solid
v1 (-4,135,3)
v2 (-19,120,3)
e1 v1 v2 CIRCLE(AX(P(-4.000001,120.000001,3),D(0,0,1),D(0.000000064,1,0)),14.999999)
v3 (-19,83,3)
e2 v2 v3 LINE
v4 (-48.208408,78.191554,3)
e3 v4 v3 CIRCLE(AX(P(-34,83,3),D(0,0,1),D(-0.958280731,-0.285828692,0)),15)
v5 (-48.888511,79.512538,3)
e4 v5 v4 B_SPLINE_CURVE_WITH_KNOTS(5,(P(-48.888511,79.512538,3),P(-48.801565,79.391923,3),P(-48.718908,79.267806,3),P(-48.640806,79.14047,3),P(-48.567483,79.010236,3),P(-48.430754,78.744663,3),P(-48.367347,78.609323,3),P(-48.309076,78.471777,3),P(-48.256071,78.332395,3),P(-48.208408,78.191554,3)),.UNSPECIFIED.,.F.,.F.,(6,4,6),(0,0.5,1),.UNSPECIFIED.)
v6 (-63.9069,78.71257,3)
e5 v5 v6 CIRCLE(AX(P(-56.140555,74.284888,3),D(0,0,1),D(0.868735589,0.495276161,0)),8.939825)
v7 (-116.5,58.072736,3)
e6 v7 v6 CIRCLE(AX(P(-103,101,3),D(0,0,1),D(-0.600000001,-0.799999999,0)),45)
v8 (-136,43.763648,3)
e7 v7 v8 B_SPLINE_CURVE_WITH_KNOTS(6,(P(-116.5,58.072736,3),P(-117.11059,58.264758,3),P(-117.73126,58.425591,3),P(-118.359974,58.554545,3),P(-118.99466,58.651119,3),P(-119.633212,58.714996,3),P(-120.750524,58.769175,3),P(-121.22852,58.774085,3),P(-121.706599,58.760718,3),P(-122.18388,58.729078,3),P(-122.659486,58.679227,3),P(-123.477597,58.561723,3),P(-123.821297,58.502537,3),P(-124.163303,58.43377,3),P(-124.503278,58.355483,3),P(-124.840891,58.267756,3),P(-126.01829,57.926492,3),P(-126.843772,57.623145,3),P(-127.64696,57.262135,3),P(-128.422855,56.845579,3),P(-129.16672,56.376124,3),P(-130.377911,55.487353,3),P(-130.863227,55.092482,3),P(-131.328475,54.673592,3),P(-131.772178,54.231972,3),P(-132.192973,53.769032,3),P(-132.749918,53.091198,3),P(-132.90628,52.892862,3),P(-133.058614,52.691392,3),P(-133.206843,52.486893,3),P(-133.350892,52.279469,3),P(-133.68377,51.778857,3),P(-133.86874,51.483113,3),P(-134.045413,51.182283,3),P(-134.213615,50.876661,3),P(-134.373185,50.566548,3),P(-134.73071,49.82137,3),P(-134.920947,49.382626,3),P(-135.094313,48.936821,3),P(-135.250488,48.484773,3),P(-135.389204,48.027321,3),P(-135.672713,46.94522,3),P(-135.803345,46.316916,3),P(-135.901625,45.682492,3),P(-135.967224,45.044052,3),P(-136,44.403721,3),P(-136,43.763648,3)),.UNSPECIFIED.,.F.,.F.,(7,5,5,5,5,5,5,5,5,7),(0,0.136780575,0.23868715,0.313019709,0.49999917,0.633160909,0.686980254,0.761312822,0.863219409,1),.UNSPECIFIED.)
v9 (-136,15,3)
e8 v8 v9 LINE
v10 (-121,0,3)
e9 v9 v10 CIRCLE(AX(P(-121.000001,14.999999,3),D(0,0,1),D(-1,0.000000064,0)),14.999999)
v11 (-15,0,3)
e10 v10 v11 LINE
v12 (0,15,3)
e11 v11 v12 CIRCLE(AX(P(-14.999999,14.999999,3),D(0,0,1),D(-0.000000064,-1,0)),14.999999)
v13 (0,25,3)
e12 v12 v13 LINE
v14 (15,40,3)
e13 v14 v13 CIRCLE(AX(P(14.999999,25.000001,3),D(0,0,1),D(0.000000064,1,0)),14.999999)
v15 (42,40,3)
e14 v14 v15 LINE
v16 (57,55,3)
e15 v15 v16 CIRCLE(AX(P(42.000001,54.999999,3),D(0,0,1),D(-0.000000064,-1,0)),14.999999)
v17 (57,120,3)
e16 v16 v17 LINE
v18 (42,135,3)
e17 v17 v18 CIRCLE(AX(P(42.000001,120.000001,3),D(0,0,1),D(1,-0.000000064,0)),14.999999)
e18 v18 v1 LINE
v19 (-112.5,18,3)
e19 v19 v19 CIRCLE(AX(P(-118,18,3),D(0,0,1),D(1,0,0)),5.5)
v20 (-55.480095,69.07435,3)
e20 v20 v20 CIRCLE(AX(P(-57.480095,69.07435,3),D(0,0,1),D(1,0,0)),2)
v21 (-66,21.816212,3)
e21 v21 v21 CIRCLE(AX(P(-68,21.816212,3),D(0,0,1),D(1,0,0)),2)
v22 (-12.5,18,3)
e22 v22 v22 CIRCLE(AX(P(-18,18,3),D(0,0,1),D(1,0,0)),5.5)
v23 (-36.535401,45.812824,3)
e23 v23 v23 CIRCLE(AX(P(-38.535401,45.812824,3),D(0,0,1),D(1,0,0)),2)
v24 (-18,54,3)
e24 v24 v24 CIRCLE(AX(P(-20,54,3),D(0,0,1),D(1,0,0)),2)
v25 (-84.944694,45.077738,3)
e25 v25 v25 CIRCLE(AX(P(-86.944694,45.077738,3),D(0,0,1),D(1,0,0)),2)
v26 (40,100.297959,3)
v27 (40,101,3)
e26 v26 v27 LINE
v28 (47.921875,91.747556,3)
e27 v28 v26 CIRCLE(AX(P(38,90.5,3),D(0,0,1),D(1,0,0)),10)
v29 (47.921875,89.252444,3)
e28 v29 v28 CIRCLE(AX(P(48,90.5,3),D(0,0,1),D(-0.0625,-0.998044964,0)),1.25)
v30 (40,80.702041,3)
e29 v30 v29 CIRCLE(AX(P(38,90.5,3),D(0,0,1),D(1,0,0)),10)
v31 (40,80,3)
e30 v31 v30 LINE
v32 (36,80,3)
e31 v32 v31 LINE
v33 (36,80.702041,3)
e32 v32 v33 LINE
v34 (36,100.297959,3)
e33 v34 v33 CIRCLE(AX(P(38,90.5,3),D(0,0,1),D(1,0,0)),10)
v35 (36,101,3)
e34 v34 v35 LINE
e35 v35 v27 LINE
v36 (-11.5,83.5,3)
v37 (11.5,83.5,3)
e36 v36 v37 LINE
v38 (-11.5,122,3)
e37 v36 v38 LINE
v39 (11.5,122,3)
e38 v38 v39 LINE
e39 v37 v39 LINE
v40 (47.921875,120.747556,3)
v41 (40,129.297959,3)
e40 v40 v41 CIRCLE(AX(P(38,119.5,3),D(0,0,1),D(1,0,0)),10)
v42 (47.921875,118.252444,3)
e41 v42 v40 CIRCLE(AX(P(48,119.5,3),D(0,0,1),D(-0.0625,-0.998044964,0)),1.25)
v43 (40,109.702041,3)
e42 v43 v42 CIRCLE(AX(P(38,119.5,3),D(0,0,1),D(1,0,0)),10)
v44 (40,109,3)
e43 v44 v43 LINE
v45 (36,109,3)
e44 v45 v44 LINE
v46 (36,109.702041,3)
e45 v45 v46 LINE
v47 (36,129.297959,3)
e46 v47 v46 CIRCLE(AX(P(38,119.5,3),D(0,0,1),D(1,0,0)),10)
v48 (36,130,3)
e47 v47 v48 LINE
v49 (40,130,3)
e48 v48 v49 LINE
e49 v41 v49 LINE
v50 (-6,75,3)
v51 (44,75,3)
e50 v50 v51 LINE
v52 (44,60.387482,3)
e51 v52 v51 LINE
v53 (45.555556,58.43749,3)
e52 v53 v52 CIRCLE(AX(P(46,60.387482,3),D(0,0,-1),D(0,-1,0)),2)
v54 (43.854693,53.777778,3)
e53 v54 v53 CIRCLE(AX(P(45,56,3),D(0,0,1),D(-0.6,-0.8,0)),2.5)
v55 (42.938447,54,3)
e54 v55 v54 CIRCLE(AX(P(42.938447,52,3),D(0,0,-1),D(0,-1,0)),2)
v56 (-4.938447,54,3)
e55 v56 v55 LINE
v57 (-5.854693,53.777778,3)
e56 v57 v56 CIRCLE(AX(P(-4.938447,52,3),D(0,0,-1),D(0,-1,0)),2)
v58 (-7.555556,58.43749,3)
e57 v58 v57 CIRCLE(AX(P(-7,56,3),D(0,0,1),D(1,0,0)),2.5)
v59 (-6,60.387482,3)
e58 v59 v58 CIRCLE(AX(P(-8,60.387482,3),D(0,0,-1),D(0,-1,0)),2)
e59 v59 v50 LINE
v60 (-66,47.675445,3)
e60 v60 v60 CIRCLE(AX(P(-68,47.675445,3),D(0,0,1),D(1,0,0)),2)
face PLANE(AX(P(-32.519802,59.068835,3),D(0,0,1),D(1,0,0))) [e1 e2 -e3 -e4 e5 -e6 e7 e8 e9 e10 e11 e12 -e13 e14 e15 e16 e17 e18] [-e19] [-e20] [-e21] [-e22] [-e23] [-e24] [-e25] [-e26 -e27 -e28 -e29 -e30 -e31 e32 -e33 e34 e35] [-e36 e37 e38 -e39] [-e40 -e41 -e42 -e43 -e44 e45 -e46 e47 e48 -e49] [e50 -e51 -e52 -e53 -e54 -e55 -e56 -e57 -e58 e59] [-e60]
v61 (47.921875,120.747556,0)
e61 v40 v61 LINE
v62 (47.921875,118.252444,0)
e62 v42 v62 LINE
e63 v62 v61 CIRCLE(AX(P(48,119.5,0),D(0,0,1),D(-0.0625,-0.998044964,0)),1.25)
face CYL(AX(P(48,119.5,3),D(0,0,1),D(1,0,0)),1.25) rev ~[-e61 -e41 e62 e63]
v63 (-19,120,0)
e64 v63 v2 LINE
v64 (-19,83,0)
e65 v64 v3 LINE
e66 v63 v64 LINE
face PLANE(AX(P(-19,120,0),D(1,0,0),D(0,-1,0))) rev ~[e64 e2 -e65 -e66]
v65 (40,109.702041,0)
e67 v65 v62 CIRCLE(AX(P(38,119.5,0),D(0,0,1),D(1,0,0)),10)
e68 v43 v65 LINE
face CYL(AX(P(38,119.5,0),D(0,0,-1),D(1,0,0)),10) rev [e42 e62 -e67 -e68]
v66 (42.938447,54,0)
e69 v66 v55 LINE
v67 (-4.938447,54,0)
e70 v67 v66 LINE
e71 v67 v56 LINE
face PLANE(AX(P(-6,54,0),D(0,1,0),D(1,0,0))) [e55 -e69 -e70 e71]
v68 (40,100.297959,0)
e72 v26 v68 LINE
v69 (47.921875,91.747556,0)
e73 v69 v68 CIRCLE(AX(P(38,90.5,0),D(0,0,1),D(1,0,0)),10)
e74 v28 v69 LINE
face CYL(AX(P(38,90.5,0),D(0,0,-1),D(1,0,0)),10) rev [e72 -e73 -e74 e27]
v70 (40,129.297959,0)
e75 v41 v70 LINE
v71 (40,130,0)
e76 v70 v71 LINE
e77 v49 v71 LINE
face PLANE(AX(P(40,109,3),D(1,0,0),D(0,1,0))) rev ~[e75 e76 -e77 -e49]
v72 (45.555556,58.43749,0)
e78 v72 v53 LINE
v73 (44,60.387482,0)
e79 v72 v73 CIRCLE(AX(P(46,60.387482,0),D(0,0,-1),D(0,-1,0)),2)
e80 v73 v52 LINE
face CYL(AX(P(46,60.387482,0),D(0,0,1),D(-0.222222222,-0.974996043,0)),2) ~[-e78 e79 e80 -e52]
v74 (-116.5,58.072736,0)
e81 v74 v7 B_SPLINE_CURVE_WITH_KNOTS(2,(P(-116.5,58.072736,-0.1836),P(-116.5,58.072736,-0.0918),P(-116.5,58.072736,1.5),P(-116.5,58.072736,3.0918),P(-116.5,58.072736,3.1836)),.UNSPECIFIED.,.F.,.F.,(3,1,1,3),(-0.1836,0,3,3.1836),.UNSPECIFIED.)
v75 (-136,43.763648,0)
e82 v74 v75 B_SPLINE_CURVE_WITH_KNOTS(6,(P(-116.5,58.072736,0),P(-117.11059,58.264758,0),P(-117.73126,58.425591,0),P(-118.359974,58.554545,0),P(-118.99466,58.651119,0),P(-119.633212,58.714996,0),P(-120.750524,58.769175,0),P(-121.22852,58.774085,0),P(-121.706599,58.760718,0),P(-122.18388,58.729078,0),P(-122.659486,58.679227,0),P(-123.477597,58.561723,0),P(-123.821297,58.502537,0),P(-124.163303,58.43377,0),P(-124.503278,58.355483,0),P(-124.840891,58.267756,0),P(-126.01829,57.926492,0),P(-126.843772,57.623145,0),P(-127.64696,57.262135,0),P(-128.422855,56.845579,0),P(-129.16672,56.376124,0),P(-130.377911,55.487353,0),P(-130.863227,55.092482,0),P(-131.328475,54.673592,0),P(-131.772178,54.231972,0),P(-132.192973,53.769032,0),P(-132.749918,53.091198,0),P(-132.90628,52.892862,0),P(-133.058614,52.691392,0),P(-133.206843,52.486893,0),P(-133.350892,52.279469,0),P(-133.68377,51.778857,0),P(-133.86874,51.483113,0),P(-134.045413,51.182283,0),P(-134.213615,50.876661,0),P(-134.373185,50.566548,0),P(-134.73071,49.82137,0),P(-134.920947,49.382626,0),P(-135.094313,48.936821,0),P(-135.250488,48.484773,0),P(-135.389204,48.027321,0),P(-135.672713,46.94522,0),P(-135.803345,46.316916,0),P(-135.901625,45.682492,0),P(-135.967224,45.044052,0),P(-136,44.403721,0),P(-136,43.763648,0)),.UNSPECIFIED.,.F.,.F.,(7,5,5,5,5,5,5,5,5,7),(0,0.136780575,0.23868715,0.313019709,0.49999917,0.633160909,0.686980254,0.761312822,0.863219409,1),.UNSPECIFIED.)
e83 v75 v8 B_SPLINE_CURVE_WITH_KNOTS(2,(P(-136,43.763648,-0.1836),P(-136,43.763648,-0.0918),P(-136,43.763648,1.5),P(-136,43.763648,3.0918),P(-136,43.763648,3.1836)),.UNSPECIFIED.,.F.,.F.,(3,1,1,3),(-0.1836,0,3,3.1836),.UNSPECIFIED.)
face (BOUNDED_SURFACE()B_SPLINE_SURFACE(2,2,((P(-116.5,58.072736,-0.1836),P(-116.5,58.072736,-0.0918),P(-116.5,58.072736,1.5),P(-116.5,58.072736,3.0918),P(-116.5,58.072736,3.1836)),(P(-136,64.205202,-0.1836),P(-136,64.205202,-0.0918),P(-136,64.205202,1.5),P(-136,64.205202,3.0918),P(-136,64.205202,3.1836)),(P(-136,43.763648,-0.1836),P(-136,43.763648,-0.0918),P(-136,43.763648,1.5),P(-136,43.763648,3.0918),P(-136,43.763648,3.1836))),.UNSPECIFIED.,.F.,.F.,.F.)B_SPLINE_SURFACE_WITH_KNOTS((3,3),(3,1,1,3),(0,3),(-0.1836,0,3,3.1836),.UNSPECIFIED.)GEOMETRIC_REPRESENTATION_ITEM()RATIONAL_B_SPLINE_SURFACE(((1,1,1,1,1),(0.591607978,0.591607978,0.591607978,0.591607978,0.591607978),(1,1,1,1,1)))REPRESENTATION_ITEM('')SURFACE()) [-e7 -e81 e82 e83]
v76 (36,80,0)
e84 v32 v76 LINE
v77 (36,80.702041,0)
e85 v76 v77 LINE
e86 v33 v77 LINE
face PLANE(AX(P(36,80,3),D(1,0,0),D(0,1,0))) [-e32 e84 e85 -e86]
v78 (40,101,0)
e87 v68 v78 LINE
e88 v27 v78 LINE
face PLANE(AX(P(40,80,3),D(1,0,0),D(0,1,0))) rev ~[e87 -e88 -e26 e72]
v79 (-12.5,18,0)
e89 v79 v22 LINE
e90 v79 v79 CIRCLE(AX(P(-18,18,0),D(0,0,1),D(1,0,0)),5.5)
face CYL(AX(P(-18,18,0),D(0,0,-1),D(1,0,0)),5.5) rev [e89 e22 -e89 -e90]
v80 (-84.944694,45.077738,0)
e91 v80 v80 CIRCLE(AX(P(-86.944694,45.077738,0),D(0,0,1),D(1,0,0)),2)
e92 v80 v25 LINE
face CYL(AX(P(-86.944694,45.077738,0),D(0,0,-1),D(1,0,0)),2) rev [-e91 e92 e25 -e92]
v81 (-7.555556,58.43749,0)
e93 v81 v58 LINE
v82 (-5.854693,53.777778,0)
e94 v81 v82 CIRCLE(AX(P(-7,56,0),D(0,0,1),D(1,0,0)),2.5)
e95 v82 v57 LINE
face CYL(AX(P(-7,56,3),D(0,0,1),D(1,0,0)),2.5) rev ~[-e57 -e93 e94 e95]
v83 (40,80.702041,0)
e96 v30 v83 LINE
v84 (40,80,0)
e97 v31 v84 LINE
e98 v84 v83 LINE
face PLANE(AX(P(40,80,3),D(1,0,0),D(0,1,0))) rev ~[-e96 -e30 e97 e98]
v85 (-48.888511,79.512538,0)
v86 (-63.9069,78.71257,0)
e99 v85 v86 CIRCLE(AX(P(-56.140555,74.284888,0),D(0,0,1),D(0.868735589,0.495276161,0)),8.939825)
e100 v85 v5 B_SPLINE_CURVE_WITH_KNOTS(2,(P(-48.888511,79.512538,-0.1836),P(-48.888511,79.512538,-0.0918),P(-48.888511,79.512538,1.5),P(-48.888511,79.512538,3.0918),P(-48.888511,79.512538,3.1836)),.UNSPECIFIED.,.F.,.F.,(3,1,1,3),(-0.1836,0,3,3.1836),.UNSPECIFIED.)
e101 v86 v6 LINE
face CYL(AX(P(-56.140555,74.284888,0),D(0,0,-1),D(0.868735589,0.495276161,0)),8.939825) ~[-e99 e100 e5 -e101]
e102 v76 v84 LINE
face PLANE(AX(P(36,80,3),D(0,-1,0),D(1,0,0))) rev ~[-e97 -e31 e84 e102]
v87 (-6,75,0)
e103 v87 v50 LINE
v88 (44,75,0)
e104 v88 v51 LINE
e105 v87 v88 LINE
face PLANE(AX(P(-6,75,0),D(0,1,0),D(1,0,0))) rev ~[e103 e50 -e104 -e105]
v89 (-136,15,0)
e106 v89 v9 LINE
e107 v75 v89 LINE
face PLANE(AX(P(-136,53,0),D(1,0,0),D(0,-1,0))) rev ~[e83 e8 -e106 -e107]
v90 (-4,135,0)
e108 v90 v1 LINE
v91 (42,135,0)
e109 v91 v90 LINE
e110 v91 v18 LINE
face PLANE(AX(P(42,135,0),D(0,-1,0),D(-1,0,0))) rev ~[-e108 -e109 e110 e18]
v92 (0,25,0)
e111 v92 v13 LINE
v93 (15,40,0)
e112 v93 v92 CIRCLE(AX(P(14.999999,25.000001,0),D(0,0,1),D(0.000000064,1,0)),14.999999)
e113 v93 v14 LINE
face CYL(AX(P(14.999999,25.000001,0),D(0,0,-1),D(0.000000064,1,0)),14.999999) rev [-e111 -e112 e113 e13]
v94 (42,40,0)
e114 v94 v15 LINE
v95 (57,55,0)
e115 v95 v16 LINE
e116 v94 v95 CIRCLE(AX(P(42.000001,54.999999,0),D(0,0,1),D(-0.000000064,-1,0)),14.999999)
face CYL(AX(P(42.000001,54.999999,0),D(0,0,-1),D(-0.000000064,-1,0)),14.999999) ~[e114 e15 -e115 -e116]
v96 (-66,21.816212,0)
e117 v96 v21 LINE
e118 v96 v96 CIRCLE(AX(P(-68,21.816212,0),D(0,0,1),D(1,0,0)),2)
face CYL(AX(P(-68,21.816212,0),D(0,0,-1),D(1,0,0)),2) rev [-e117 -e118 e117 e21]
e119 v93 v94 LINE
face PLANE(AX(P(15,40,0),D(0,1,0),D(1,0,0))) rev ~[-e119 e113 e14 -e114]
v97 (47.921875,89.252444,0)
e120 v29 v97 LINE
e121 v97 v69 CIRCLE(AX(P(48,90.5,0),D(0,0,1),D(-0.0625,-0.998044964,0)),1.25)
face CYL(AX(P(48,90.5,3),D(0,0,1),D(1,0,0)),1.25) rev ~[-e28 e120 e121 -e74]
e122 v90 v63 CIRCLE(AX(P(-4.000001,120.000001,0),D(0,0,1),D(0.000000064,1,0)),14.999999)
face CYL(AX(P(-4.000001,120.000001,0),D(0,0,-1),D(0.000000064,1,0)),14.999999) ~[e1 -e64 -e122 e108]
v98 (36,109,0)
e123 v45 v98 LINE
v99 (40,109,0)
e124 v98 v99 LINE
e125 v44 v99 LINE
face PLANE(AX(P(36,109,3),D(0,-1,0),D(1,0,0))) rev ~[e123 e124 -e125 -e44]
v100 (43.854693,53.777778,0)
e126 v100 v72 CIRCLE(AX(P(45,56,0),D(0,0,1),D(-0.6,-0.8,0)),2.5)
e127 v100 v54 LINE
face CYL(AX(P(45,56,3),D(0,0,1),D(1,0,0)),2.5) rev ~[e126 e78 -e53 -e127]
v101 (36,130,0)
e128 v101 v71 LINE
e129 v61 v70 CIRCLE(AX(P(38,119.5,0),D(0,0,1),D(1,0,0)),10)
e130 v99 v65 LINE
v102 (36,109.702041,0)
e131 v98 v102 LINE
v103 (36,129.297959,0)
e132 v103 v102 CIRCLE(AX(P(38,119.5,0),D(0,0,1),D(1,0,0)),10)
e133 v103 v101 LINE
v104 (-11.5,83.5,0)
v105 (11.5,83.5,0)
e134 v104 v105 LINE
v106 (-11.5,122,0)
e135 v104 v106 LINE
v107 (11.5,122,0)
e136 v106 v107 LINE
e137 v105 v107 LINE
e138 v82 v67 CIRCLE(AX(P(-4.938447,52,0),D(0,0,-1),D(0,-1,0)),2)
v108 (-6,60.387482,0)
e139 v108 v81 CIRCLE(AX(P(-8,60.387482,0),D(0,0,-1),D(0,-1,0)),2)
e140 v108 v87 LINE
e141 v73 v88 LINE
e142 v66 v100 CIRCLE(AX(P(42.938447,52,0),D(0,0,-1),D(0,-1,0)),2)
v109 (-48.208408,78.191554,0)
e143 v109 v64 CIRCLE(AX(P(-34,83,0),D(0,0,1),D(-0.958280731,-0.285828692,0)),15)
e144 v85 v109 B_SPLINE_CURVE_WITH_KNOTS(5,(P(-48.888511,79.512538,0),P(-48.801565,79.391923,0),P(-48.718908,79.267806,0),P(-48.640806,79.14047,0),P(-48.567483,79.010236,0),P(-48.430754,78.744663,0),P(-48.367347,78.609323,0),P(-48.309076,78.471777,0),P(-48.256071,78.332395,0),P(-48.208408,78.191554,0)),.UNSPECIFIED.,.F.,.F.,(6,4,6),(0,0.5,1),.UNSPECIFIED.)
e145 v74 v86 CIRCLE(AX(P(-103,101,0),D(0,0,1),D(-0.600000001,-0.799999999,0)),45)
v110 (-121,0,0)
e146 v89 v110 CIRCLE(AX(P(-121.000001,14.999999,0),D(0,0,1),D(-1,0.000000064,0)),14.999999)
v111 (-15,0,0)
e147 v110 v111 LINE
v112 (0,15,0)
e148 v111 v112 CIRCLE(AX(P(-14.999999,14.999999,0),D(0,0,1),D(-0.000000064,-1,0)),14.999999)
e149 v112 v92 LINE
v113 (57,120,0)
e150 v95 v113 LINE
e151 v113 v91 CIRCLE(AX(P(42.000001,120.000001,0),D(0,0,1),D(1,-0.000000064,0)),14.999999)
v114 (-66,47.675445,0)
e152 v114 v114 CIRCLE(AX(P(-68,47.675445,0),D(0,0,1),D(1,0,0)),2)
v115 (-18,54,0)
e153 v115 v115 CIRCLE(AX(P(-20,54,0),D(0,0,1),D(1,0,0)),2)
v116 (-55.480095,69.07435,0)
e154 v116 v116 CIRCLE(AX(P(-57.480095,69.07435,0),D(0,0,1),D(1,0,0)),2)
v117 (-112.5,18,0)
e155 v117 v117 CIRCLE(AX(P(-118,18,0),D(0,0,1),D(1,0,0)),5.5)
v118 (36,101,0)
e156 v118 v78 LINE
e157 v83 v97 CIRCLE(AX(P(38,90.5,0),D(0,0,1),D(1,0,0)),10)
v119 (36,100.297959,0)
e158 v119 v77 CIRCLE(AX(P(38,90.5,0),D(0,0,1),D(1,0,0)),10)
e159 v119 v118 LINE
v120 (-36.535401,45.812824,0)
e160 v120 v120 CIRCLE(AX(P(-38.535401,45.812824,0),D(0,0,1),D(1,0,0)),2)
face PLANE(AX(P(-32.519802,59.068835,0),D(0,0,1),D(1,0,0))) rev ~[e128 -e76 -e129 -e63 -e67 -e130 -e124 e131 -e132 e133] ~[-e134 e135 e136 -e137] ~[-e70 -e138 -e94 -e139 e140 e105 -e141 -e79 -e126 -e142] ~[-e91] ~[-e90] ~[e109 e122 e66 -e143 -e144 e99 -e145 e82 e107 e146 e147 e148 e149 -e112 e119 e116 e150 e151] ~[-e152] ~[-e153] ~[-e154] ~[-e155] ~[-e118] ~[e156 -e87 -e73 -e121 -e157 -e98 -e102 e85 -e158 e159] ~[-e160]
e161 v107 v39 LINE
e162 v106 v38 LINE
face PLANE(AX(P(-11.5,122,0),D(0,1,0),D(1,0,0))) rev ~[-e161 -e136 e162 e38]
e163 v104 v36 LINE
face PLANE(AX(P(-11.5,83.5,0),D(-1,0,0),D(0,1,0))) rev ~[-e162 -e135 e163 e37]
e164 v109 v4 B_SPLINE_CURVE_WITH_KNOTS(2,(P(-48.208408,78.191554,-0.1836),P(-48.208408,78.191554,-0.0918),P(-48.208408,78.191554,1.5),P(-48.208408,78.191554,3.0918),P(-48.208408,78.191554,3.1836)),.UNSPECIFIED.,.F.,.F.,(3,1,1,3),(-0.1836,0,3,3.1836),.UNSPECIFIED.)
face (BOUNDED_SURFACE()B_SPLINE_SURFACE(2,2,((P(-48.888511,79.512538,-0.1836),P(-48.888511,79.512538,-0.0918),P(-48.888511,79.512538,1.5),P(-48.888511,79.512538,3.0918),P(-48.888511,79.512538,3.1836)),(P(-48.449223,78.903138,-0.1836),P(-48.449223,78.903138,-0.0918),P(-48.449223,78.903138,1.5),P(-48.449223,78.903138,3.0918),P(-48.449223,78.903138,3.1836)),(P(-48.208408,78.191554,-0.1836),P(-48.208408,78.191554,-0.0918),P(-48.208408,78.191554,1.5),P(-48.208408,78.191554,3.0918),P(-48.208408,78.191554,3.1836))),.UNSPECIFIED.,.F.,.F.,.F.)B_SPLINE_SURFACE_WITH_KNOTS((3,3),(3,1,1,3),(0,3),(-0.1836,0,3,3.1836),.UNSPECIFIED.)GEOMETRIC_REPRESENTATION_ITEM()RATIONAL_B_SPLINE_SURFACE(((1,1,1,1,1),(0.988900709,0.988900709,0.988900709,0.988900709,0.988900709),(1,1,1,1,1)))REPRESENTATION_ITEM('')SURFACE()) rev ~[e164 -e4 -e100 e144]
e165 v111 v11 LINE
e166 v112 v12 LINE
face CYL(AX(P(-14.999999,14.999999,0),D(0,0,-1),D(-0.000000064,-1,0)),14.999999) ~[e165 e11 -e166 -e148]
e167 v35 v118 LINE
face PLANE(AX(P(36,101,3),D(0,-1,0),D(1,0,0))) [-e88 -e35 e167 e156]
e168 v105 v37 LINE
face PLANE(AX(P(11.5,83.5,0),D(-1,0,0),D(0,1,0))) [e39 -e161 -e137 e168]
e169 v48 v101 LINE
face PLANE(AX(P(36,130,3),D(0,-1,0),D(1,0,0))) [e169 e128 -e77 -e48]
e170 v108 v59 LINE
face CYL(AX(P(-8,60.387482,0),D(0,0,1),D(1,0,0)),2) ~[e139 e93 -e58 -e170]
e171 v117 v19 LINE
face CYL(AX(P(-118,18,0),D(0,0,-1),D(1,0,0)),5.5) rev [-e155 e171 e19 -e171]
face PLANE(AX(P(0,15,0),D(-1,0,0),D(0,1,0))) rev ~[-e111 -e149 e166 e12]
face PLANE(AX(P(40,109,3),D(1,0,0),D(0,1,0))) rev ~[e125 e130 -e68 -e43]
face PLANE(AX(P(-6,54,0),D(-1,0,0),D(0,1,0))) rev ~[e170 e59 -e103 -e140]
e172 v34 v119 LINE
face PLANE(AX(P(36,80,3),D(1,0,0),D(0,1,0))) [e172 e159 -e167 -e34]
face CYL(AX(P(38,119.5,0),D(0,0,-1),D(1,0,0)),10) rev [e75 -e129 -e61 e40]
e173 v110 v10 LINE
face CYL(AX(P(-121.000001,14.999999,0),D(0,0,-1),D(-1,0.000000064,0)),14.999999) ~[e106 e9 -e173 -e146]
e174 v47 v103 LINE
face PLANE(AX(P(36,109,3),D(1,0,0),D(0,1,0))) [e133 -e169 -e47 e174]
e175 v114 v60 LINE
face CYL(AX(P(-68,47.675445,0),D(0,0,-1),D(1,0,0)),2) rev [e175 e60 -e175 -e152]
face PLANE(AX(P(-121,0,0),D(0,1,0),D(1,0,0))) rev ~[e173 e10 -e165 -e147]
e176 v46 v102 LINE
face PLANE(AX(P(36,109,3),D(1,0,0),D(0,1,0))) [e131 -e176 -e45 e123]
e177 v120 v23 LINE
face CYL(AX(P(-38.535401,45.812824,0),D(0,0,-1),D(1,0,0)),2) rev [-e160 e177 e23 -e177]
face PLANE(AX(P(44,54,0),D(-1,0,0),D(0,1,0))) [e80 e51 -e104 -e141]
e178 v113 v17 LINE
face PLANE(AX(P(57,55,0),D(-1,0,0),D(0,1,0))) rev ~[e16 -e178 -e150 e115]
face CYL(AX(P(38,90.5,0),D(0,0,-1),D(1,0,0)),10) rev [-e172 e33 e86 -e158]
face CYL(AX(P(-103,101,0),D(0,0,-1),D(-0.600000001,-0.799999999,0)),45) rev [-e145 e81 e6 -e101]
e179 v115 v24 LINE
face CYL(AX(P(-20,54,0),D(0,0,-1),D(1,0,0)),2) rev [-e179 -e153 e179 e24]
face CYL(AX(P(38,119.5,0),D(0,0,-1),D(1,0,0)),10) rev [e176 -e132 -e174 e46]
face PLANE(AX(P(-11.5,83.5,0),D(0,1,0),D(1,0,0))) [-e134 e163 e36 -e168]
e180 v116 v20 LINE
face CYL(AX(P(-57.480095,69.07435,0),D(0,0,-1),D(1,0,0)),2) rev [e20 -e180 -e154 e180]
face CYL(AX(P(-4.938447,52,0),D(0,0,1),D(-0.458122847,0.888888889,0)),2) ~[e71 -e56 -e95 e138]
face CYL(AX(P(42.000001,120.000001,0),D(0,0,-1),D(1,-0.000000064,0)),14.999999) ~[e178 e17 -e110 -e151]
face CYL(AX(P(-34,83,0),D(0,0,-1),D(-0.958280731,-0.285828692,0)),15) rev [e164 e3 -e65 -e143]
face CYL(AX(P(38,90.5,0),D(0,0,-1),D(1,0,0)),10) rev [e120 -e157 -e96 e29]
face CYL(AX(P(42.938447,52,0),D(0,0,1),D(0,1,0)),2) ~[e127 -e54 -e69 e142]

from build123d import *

# Parameters (mm, degrees)
SKETCH_R        = 5.5
SKETCH_R_2      = 10
SKETCH_R_3      = 2
SKETCH_W        = 50
SKETCH_H        = 21
SKETCH_W_2      = 23
SKETCH_H_2      = 38.5
PAD_DEPTH       = 3
FILLET_R        = 5
FILLET001_R     = 15
SKETCH001_R     = 1.25
SKETCH001_R_2   = 2.5
POCKET_DEPTH    = 3.001
FILLET002_R     = 2
FILLET003_R     = 2
SKETCH002_W     = 4
SKETCH002_H     = 21
POCKET001_DEPTH = 3.001


with BuildPart() as part:
    # Sketch → Pad (new body)
    with BuildSketch(Plane.XY):
        with BuildLine():
            Line((0, 15), (0, 25))
            ThreePointArc((15, 40), (4.393398, 35.606602), (0, 25))
            Line((15, 40), (42, 40))
            ThreePointArc((42, 40), (52.606602, 44.393398), (57, 55))
            Line((57, 55), (57, 120))
            ThreePointArc((57, 120), (52.606602, 130.606602), (42, 135))
            Line((42, 135), (-4, 135))
            ThreePointArc((-4, 135), (-14.606602, 130.606602), (-19, 120))
            Line((-19, 120), (-19, 83))
            ThreePointArc((-48.374211, 78.71257), (-31.833571, 68.157272), (-19, 83))
            ThreePointArc((-48.374211, 78.71257), (-56.140556, 83.224713), (-63.9069, 78.71257))
            ThreePointArc((-130, 65), (-93.858369, 56.938332), (-63.9069, 78.71257))
            ThreePointArc((-130, 65), (-134.416408, 59.708204), (-136, 53))
            Line((-136, 53), (-136, 15))
            ThreePointArc((-136, 15), (-131.606602, 4.393398), (-121, 0))
            Line((-121, 0), (-15, 0))
            ThreePointArc((-15, 0), (-4.393398, 4.393398), (0, 15))
        make_face()
        with Locations((-118, 18)):
            Circle(SKETCH_R, mode=Mode.SUBTRACT)
        with Locations((-18, 18)):
            Circle(SKETCH_R, mode=Mode.SUBTRACT)
        with Locations((38, 119.5)):
            Circle(SKETCH_R_2, mode=Mode.SUBTRACT)
        with Locations((38, 90.5)):
            Circle(SKETCH_R_2, mode=Mode.SUBTRACT)
        with Locations((-86.944694, 45.077738)):
            Circle(SKETCH_R_3, mode=Mode.SUBTRACT)
        with Locations((-57.480095, 69.07435)):
            Circle(SKETCH_R_3, mode=Mode.SUBTRACT)
        with Locations((-38.535401, 45.812824)):
            Circle(SKETCH_R_3, mode=Mode.SUBTRACT)
        with Locations((-68, 21.816212)):
            Circle(SKETCH_R_3, mode=Mode.SUBTRACT)
        with Locations((-68, 47.675445)):
            Circle(SKETCH_R_3, mode=Mode.SUBTRACT)
        with Locations((-20, 54)):
            Circle(SKETCH_R_3, mode=Mode.SUBTRACT)
        with Locations((19, 64.5)):
            Rectangle(SKETCH_W, SKETCH_H, mode=Mode.SUBTRACT)
        with Locations((0, 102.75)):
            Rectangle(SKETCH_W_2, SKETCH_H_2, mode=Mode.SUBTRACT)
    extrude(amount=PAD_DEPTH)

    # Fillet
    fillet_edges = [part.edges().sort_by_distance(p)[0] for p in [
        (-48.374211, 78.71257, 1.5),
    ]]
    fillet(fillet_edges, radius=FILLET_R)

    # Fillet001
    fillet001_edges = [part.edges().sort_by_distance(p)[0] for p in [
        (-130, 65, 1.5),
    ]]
    fillet(fillet001_edges, radius=FILLET001_R)

    # Sketch001 (on Face38 of Fillet001) → Pocket (cut, through all)
    with BuildSketch(Plane.XY.offset(3)):
        with Locations((48, 119.5)):
            Circle(SKETCH001_R)
        with Locations((48, 90.5)):
            Circle(SKETCH001_R)
        with Locations((-7, 56)):
            Circle(SKETCH001_R_2)
        with Locations((45, 56)):
            Circle(SKETCH001_R_2)
    extrude(amount=-POCKET_DEPTH, mode=Mode.SUBTRACT)

    # Fillet002
    fillet002_edges = [part.edges().sort_by_distance(p)[0] for p in [
        (44, 58.291288, 1.5),
        (-6, 58.291288, 1.5),
    ]]
    fillet(fillet002_edges, radius=FILLET002_R)

    # Fillet003
    fillet003_edges = [part.edges().sort_by_distance(p)[0] for p in [
        (-5.5, 54, 1.5),
        (43.5, 54, 1.5),
    ]]
    fillet(fillet003_edges, radius=FILLET003_R)

    # Sketch002 (on Face46 of Fillet003) → Pocket001 (cut, through all)
    with BuildSketch(Plane.XY.offset(3)):
        with Locations((38, 119.5)):
            Rectangle(SKETCH002_W, SKETCH002_H)
        with Locations((38, 90.5)):
            Rectangle(SKETCH002_W, SKETCH002_H)
    extrude(amount=-POCKET001_DEPTH, mode=Mode.SUBTRACT)


solid = part.part
